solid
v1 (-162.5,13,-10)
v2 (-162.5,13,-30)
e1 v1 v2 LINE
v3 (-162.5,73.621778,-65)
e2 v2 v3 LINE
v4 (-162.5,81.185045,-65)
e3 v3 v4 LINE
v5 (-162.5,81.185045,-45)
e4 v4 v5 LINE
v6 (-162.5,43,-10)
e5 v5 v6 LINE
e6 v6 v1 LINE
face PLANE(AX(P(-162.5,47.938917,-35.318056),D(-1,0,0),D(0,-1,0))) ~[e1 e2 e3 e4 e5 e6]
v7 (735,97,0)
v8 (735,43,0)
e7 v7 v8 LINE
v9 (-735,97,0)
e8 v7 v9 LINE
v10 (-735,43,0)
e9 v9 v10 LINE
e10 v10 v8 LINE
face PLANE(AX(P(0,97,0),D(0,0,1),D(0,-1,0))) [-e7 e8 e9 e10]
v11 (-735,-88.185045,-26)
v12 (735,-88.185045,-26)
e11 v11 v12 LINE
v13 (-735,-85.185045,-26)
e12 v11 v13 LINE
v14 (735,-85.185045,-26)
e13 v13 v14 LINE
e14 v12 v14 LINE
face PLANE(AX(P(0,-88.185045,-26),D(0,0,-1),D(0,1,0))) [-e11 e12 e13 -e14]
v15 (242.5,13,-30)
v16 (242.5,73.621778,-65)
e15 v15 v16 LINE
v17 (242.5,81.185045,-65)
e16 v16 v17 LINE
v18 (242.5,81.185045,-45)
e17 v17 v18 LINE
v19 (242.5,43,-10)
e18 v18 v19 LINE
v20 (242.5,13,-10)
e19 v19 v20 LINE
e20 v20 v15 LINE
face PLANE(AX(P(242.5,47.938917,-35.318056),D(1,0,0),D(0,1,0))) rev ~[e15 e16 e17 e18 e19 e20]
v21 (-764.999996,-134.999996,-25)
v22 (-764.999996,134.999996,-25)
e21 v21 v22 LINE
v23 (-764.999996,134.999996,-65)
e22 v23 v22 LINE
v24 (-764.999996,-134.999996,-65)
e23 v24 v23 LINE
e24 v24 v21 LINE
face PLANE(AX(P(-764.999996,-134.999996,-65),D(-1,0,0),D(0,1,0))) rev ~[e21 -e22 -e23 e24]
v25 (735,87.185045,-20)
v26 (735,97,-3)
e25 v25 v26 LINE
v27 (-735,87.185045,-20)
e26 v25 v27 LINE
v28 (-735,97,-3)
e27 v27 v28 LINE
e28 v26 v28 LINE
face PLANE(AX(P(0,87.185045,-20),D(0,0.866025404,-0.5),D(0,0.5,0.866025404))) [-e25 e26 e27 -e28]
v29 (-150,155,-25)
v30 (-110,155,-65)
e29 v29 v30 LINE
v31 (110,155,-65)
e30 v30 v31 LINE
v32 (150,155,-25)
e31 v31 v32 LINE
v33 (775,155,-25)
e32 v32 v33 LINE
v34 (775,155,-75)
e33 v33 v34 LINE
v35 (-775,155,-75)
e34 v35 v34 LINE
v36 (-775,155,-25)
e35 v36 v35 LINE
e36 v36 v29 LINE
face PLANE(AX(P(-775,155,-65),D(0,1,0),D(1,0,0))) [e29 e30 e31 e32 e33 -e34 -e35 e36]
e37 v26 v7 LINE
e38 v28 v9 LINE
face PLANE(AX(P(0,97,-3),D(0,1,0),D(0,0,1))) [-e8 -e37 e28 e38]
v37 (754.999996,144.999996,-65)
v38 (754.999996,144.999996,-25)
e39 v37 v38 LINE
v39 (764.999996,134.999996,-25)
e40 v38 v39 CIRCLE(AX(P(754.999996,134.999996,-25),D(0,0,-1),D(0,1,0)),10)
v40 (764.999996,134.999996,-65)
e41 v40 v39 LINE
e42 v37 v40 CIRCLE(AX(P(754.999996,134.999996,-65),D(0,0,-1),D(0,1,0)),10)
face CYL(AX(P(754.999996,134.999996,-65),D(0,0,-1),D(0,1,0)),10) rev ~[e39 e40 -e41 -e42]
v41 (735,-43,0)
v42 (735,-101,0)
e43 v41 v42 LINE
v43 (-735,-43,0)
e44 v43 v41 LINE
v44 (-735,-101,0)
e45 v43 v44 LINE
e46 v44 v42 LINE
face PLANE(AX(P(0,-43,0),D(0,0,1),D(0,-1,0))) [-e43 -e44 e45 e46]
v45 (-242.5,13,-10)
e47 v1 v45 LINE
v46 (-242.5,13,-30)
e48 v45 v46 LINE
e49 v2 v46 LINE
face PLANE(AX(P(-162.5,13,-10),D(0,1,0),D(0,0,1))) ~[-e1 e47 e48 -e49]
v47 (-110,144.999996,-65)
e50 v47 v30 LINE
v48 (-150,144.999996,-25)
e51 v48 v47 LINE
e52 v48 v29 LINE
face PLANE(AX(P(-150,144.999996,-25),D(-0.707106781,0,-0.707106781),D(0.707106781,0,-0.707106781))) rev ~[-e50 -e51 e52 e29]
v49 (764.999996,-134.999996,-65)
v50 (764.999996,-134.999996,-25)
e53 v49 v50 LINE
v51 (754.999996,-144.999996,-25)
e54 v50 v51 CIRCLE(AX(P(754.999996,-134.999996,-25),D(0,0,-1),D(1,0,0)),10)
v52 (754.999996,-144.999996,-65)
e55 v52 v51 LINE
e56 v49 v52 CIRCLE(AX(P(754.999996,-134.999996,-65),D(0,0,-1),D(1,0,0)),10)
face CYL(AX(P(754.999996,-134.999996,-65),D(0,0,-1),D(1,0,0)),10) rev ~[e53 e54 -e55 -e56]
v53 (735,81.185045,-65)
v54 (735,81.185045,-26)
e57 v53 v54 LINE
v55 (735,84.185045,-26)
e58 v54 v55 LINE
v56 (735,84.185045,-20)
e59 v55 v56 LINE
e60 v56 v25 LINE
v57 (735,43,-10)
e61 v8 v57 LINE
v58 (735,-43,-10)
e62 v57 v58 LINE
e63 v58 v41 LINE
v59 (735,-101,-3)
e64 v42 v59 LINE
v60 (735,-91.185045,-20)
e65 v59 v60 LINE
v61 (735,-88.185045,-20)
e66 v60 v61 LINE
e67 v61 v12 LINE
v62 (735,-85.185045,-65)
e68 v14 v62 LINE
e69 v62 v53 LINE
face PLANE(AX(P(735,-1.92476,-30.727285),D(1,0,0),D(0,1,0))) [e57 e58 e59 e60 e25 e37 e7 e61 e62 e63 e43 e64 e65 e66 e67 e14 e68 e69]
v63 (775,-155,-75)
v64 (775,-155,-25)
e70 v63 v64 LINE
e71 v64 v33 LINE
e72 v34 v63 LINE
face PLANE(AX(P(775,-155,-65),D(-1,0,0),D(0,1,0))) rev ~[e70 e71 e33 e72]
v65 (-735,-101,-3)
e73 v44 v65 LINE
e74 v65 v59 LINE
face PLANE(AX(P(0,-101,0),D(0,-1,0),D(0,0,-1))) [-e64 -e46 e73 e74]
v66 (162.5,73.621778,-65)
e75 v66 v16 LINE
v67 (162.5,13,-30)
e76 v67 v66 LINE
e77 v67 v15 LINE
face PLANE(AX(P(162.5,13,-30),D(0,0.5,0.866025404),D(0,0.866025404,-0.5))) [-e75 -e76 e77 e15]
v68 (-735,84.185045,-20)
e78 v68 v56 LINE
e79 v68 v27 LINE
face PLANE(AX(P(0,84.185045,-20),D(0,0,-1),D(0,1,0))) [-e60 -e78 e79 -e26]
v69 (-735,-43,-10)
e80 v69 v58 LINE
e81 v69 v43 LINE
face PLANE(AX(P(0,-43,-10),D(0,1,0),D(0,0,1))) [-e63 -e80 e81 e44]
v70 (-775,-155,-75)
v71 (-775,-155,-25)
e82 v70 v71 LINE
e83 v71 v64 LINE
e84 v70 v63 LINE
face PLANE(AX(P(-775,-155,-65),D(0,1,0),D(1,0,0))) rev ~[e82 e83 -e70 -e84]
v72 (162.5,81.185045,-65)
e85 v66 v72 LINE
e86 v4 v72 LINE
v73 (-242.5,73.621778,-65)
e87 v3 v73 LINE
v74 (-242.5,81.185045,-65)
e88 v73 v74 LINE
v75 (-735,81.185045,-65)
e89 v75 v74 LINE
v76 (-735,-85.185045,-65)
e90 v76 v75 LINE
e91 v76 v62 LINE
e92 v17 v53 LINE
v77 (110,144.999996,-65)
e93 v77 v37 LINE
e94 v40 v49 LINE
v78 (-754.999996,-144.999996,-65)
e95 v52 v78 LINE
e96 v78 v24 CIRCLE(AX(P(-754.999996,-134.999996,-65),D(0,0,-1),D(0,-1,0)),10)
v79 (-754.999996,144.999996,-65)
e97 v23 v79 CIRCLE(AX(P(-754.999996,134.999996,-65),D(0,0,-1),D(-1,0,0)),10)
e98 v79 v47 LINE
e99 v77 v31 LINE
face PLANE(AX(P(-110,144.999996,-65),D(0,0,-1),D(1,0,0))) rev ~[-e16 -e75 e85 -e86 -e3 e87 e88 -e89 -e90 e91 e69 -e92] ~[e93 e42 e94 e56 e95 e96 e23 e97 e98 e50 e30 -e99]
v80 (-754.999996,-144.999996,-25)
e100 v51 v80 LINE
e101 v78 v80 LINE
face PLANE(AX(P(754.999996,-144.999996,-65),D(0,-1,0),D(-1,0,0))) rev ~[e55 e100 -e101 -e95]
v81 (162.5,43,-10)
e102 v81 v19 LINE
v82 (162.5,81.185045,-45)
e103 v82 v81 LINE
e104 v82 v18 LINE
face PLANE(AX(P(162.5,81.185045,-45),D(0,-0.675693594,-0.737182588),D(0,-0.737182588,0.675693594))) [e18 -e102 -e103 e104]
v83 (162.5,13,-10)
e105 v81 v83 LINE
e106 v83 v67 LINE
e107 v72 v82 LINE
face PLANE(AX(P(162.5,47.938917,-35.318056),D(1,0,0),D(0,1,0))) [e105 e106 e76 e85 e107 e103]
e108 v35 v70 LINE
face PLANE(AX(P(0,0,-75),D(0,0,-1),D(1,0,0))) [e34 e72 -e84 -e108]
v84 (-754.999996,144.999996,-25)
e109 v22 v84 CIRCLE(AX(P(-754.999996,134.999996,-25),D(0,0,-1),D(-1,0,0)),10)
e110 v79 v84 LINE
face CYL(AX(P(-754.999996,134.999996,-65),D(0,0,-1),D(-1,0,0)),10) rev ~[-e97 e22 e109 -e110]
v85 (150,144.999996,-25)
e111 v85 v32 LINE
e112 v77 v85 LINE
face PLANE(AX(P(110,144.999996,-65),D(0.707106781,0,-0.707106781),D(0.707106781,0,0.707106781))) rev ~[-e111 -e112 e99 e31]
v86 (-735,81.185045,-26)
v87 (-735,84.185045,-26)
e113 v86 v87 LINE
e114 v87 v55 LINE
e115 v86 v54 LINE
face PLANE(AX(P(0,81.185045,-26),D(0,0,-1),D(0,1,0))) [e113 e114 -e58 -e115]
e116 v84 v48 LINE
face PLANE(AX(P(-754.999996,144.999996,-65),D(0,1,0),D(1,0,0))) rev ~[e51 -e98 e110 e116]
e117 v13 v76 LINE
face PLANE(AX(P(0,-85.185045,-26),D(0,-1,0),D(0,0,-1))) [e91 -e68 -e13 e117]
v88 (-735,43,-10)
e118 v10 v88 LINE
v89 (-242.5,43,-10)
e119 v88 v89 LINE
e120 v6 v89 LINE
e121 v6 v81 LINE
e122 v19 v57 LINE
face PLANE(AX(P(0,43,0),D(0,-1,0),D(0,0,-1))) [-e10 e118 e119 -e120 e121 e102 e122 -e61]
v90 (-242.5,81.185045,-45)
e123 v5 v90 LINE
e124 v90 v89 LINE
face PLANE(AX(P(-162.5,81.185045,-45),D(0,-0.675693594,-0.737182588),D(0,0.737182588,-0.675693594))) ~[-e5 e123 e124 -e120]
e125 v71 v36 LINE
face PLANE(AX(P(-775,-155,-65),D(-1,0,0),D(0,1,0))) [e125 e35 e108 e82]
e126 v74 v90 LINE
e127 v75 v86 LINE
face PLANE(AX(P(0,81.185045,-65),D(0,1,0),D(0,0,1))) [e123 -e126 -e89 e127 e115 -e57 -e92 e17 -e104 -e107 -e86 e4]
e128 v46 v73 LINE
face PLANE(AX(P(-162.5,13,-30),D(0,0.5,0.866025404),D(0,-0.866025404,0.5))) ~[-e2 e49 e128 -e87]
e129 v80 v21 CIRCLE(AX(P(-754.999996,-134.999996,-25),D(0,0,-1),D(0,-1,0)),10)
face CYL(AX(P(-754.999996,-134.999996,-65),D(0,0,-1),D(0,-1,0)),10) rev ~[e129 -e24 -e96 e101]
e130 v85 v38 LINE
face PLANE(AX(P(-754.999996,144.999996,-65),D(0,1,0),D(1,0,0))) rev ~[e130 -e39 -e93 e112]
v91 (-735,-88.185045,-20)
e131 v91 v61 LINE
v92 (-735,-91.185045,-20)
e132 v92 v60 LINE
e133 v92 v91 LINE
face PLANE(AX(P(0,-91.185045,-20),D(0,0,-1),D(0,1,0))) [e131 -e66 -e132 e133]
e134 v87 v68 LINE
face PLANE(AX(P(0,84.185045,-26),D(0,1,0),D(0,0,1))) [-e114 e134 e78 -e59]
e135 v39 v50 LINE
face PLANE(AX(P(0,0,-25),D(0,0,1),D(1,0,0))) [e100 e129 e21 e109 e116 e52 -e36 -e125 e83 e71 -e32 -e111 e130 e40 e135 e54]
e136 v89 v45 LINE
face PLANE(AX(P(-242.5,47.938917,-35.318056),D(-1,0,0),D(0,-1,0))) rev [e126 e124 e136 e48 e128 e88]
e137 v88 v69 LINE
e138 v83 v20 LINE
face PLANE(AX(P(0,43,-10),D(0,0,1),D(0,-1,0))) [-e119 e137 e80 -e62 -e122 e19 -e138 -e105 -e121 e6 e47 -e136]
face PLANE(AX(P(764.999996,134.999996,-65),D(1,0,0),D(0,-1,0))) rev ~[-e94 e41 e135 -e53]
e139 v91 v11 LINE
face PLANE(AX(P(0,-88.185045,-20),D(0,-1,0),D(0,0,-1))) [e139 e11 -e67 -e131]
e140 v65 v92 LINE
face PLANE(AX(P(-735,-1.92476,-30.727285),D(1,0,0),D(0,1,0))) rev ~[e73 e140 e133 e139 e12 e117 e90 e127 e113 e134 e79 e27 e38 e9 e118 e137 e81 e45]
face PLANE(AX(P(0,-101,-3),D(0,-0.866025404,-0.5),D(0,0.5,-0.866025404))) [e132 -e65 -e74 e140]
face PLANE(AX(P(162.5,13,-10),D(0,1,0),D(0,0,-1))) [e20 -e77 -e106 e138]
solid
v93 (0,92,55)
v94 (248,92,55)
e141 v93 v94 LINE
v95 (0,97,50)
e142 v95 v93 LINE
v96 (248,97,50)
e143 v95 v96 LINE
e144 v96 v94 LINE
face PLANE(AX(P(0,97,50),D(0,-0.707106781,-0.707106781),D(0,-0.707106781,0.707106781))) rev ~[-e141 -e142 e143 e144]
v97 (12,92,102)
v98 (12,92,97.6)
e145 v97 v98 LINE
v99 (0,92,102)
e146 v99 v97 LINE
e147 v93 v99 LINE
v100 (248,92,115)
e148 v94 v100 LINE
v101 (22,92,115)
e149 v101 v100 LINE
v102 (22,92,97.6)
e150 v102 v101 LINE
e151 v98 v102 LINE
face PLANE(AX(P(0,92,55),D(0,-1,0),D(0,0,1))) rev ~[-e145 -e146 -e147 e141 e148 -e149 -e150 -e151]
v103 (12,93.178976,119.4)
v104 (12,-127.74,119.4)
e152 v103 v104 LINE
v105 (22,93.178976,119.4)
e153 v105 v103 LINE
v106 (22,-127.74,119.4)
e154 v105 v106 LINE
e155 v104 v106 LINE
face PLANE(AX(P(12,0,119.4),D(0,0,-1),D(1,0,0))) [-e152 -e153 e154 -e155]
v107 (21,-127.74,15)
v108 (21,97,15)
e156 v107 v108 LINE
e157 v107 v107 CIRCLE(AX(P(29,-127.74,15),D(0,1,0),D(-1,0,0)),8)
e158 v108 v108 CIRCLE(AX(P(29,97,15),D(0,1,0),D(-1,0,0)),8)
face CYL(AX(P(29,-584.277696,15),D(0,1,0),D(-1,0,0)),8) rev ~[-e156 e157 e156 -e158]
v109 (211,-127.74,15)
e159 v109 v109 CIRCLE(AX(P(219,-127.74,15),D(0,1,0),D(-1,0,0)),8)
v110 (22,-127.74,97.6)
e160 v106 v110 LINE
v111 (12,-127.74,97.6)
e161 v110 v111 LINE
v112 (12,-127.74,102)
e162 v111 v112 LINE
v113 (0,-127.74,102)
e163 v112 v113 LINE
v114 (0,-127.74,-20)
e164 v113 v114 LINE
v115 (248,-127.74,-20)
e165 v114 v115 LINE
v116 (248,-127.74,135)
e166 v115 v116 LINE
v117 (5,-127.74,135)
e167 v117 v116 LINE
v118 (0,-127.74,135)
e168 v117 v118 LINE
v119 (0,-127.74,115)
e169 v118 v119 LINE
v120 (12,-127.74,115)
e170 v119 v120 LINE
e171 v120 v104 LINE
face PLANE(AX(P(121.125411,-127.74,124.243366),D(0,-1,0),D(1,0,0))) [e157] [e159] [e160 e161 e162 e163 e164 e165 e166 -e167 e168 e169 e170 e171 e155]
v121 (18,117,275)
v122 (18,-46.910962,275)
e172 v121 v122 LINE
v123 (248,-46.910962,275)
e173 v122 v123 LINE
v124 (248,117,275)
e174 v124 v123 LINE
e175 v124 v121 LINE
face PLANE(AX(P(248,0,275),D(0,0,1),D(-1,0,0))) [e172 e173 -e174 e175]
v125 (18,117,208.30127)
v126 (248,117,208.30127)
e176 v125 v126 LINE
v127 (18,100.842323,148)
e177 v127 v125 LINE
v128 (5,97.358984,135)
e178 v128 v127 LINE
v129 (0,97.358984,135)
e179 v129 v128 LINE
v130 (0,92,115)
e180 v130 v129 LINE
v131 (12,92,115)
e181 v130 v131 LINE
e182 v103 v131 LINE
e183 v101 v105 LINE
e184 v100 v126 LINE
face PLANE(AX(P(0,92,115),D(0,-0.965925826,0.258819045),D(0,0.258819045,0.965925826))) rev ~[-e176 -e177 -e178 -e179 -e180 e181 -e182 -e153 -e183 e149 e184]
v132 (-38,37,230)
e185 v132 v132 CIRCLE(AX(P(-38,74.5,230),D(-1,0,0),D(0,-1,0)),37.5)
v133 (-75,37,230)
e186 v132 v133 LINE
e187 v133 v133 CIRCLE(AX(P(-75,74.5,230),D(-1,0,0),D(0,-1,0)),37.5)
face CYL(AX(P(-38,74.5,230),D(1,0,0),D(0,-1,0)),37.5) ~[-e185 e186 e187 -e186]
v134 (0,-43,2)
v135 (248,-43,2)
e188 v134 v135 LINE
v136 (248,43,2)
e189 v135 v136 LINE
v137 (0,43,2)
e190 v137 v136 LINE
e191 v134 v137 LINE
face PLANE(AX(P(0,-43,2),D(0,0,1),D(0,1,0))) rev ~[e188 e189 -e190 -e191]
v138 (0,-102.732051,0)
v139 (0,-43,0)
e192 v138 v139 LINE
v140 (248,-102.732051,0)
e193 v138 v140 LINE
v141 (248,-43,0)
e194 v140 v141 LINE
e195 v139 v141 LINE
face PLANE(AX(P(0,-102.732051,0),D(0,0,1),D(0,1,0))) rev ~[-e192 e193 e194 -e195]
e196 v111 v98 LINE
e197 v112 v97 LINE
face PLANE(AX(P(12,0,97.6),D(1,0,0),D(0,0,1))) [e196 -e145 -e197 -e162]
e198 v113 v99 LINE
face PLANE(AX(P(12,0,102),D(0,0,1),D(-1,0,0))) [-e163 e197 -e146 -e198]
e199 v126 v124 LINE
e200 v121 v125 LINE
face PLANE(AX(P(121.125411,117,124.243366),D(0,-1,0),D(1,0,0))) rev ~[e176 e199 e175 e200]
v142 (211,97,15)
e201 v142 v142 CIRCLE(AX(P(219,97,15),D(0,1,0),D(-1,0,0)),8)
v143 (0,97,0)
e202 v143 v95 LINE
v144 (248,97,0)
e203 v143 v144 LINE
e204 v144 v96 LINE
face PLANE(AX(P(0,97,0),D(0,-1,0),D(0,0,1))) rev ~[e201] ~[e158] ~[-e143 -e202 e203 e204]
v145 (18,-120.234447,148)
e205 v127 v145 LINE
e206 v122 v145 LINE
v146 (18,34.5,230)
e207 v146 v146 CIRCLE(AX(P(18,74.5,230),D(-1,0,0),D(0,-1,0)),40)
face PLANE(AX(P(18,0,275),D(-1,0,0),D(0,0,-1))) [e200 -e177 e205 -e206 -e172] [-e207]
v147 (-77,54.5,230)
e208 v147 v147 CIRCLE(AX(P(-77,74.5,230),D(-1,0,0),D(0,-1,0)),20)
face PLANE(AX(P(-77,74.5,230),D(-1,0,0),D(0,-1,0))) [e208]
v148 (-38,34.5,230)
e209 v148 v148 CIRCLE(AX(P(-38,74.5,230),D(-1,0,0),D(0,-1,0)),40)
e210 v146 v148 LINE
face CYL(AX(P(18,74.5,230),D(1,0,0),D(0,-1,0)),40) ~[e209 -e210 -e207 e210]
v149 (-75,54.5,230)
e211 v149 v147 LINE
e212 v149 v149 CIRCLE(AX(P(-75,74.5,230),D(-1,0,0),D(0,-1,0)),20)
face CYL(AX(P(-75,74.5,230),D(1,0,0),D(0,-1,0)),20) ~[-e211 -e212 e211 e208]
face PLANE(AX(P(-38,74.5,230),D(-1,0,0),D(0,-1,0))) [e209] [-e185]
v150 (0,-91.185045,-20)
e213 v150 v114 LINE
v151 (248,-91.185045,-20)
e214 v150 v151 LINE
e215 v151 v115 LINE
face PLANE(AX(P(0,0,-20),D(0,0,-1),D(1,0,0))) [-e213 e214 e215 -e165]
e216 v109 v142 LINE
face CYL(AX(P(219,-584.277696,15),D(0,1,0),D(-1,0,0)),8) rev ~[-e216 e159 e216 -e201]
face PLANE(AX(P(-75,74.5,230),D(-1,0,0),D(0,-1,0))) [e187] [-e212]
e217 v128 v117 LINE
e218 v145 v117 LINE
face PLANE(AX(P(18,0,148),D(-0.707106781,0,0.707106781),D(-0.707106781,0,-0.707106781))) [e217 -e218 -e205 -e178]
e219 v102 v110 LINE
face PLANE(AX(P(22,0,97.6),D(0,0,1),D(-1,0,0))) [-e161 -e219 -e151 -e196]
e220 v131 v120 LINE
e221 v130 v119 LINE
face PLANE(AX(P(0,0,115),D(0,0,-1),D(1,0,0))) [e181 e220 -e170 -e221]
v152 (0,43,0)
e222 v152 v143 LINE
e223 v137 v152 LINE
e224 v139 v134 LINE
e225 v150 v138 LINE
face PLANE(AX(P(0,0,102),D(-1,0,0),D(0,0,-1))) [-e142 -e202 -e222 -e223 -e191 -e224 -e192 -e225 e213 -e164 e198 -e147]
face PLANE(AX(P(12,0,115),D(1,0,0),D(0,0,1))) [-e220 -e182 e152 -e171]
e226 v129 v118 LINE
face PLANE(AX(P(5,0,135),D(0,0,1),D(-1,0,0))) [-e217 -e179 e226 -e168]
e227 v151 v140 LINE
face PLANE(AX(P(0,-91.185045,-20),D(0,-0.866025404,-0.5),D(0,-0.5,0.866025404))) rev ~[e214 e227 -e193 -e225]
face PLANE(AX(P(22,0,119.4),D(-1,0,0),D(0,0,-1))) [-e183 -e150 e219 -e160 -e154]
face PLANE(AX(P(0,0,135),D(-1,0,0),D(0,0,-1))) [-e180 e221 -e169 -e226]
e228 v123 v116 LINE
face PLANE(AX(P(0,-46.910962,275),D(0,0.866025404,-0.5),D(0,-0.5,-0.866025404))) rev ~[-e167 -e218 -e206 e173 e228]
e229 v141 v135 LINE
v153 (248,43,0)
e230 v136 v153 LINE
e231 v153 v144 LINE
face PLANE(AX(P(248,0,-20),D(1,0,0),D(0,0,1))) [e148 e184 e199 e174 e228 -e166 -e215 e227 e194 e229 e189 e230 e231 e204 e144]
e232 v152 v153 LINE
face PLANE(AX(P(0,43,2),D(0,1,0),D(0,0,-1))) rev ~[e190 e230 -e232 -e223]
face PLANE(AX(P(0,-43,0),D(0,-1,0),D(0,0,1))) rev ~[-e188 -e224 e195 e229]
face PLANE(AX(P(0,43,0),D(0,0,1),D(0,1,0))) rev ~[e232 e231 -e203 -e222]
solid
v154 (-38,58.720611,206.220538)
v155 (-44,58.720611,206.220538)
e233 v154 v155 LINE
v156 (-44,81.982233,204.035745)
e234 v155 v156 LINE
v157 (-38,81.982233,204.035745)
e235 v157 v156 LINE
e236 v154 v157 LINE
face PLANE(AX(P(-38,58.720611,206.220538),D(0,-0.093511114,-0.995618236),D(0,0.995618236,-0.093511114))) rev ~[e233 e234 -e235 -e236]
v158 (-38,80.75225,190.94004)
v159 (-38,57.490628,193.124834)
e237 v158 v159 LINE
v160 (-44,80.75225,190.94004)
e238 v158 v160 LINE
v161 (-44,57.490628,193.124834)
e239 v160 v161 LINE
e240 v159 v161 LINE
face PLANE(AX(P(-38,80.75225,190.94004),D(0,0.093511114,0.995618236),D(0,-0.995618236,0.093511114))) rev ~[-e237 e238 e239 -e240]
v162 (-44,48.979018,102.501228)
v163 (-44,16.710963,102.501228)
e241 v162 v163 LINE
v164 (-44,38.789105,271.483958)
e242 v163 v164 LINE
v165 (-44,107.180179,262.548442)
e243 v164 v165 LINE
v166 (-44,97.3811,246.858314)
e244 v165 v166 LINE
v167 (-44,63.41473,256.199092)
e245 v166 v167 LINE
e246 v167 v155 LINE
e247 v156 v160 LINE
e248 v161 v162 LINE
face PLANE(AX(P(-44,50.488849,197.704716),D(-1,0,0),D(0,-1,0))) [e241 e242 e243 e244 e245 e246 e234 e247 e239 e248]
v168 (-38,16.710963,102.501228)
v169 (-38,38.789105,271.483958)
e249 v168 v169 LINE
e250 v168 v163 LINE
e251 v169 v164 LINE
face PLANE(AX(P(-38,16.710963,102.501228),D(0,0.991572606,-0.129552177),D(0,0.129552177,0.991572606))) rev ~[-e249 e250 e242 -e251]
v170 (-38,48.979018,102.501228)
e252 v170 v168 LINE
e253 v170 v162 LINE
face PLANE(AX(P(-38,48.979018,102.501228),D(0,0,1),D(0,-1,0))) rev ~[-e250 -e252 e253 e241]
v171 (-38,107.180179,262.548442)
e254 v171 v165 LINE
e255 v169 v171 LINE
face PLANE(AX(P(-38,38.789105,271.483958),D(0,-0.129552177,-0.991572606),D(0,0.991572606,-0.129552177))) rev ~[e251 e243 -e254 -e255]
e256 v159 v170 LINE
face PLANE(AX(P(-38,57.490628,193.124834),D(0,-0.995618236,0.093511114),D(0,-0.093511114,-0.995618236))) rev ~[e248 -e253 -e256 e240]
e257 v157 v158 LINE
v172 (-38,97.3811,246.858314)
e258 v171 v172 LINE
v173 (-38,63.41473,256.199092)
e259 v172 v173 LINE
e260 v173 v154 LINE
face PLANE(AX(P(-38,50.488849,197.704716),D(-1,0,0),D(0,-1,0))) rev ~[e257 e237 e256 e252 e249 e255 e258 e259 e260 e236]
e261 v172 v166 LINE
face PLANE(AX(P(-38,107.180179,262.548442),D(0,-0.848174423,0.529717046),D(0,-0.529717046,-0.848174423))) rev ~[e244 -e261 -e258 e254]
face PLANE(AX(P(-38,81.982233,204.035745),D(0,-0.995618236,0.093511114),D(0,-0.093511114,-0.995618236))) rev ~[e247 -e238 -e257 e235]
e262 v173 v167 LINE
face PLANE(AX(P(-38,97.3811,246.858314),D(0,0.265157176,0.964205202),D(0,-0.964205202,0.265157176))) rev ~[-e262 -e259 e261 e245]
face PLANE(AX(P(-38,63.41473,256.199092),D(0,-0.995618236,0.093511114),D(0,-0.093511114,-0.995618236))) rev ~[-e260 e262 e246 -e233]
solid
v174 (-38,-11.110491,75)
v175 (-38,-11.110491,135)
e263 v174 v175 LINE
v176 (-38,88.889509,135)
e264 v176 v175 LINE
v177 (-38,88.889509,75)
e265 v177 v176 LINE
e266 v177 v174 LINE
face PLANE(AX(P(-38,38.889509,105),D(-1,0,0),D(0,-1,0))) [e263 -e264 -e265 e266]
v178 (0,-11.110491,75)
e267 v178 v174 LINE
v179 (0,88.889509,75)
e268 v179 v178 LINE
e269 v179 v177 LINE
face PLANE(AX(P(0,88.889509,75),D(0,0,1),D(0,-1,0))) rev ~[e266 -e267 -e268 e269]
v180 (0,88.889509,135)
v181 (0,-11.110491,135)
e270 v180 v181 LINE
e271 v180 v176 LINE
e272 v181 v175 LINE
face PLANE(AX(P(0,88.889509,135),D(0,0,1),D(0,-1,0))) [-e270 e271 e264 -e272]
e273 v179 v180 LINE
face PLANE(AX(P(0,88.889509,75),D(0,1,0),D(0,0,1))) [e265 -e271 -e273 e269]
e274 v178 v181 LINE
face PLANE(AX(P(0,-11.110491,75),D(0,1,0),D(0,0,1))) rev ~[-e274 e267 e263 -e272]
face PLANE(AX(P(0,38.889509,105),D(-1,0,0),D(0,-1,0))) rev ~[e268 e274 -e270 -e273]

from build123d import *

# Parameters (mm, degrees)
F1_DEPTH       = 735
F2_W           = 1550
F2_H           = 310
F3_DEPTH       = 10
F4_W           = 1550
F4_H           = 310
F5_DEPTH       = 40
F7_DEPTH       = 10.0000041723
F10_DEPTH      = 80
F14_DEPTH      = 127.74
F14_DEPTH_BACK = 117
F16_DEPTH      = 248
F18_D          = 16
F19_R          = 40
F20_DEPTH      = 56
F21_R          = 37.5
F22_DEPTH      = 37
F23_R          = 20
F24_DEPTH      = 2
F25_W          = 100
F25_H          = 60
F26_DEPTH      = 38
F28_DEPTH      = 6


with BuildPart() as f1:
    # F0 (on Right) → F1 (new body, symmetric)
    with BuildSketch(Plane.YZ):
        Polygon((97, 0), (43, 0), (43, -10), (-43, -10), (-43, 0), (-101, 0), (-101, -3), (-91.1850454238, -20), (-88.1850454238, -20), (-88.1850454238, -26), (-85.1850454238, -26), (-85.1850454238, -65), (81.1850454238, -65), (81.1850454238, -26), (84.1850454238, -26), (84.1850454238, -20), (87.1850454238, -20), (97, -3), align=None)
    extrude(amount=F1_DEPTH, both=True)

    # F2 (on face) → F3 (join)
    with BuildSketch(Plane(origin=(0, 0, -65), x_dir=(1, 0, 0), z_dir=(0, 0, -1))):
        Rectangle(F2_W, F2_H)
    extrude(amount=F3_DEPTH)

    # F4 (on face) → F5 (join)
    with BuildSketch(Plane.XY.offset(-65)):
        Rectangle(F4_W, F4_H)
        with BuildLine():
            ThreePointArc((-764.9999958277, 134.9999958277), (-762.0710636395, 142.0710636395), (-754.9999958277, 144.9999958277))
            Line((-754.9999958277, 144.9999958277), (754.9999958277, 144.9999958277))
            ThreePointArc((754.9999958277, 144.9999958277), (762.0710636395, 142.0710636395), (764.9999958277, 134.9999958277))
            Line((764.9999958277, 134.9999958277), (764.9999958277, -134.9999958277))
            ThreePointArc((764.9999958277, -134.9999958277), (762.0710636395, -142.0710636395), (754.9999958277, -144.9999958277))
            Line((754.9999958277, -144.9999958277), (-754.9999958277, -144.9999958277))
            ThreePointArc((-754.9999958277, -144.9999958277), (-762.0710636395, -142.0710636395), (-764.9999958277, -134.9999958277))
            Line((-764.9999958277, -134.9999958277), (-764.9999958277, 134.9999958277))
        make_face(mode=Mode.SUBTRACT)
    extrude(amount=F5_DEPTH)

    # F6 (on face) → F7 (cut, through all)
    with BuildSketch(Plane.XZ.offset(-144.9999958277)):
        Polygon((110, -65), (150, -25), (-150, -25), (-110, -65), align=None)
    extrude(amount=-F7_DEPTH, mode=Mode.SUBTRACT)


with BuildPart() as f10:
    # F9 (on offset) → F10 (new body)
    with BuildSketch(Plane.YZ.offset(162.5)):
        Polygon((43, -10), (13, -10), (13, -30), (73.6217782649, -65), (81.1850454238, -65), (81.1850454238, -45), align=None)
    extrude(amount=F10_DEPTH)


with BuildPart() as f11_1:
    # F11: instance of F10
    add(f10.part.mirror(Plane.YZ))


with BuildPart() as f1_1:
    add(f1.part)

    # F12: cut F10, F11_1
    add(f10.part, mode=Mode.SUBTRACT)
    add(f11_1.part, mode=Mode.SUBTRACT)


with BuildPart() as f14:
    # F13 (on Front) → F14 (new body, two sides)
    with BuildSketch(Plane.XZ) as f14_sk:
        Polygon((0, 102), (0, -20), (248, -20), (248, 275), (18, 275), (18, 148), (5, 135), (0, 135), (0, 115), (12, 115), (12, 119.4), (22, 119.4), (22, 97.6), (12, 97.6), (12, 102), align=None)
    extrude(amount=F14_DEPTH)
    extrude(f14_sk.sketch, amount=-F14_DEPTH_BACK)

    # F15 (on face) → F16 (cut, through all)
    with BuildSketch(Plane(origin=(0, 0, 0), x_dir=(0, -1, 0), z_dir=(-1, 0, 0))):
        Polygon((127.74, 275), (46.9109623135, 275), (127.74, 135), align=None)
        Polygon((-117, 208.3012701892), (-117, 102), (-92, 102), (-92, 115), align=None)
        Polygon((-117, -20), (91.1850454238, -20), (102.7320508076, 0), (43, 0), (43, 2), (-43, 2), (-43, 0), (-97, 0), (-97, 50), (-92, 55), (-92, 102), (-117, 102), align=None)
    extrude(amount=-F16_DEPTH, mode=Mode.SUBTRACT)

    # F18 (through all)
    with Locations(Plane.XZ.offset(127.74)):
        with Locations((29, 15), (219, 15)):
            Hole(F18_D / 2)

    # F19 (on face) → F20 (join)
    with BuildSketch(Plane(origin=(18, 0, 0), x_dir=(0, -1, 0), z_dir=(-1, 0, 0))):
        with Locations((-74.5, 230)):
            Circle(F19_R)
    extrude(amount=F20_DEPTH)

    # F21 (on face) → F22 (join)
    with BuildSketch(Plane(origin=(-38, 0, 0), x_dir=(0, -1, 0), z_dir=(-1, 0, 0))):
        with Locations((-74.5, 230)):
            Circle(F21_R)
    extrude(amount=F22_DEPTH)

    # F23 (on face) → F24 (join)
    with BuildSketch(Plane(origin=(-75, 0, 0), x_dir=(0, -1, 0), z_dir=(-1, 0, 0))):
        with Locations((-74.5, 230)):
            Circle(F23_R)
    extrude(amount=F24_DEPTH)


with BuildPart() as f26:
    # F25 (on face) → F26 (new body)
    with BuildSketch(Plane(origin=(0, 0, 0), x_dir=(0, -1, 0), z_dir=(-1, 0, 0))):
        with Locations((-38.8895094395, 105)):
            Rectangle(F25_W, F25_H)
    extrude(amount=F26_DEPTH)


with BuildPart() as f28:
    # F27 (on face) → F28 (new body)
    with BuildSketch(Plane(origin=(-38, 0, 0), x_dir=(0, -1, 0), z_dir=(-1, 0, 0))):
        Polygon((-107.1801793967, 262.5484420728), (-97.3811000586, 246.8583136797), (-63.4147301316, 256.1990916729), (-58.7206114187, 206.2205382433), (-57.4906279968, 193.1248336123), (-48.9790178835, 102.5012284517), (-16.7109631002, 102.5012284517), (-38.7891046703, 271.4839577675), align=None)
        Polygon((-57.4906279968, 193.1248336123), (-58.7206114187, 206.2205382433), (-81.9822331447, 204.03574484), (-80.7522497228, 190.940040209), align=None)
    extrude(amount=F28_DEPTH)


solid = Compound([f1_1.part, f14.part, f26.part, f28.part])
